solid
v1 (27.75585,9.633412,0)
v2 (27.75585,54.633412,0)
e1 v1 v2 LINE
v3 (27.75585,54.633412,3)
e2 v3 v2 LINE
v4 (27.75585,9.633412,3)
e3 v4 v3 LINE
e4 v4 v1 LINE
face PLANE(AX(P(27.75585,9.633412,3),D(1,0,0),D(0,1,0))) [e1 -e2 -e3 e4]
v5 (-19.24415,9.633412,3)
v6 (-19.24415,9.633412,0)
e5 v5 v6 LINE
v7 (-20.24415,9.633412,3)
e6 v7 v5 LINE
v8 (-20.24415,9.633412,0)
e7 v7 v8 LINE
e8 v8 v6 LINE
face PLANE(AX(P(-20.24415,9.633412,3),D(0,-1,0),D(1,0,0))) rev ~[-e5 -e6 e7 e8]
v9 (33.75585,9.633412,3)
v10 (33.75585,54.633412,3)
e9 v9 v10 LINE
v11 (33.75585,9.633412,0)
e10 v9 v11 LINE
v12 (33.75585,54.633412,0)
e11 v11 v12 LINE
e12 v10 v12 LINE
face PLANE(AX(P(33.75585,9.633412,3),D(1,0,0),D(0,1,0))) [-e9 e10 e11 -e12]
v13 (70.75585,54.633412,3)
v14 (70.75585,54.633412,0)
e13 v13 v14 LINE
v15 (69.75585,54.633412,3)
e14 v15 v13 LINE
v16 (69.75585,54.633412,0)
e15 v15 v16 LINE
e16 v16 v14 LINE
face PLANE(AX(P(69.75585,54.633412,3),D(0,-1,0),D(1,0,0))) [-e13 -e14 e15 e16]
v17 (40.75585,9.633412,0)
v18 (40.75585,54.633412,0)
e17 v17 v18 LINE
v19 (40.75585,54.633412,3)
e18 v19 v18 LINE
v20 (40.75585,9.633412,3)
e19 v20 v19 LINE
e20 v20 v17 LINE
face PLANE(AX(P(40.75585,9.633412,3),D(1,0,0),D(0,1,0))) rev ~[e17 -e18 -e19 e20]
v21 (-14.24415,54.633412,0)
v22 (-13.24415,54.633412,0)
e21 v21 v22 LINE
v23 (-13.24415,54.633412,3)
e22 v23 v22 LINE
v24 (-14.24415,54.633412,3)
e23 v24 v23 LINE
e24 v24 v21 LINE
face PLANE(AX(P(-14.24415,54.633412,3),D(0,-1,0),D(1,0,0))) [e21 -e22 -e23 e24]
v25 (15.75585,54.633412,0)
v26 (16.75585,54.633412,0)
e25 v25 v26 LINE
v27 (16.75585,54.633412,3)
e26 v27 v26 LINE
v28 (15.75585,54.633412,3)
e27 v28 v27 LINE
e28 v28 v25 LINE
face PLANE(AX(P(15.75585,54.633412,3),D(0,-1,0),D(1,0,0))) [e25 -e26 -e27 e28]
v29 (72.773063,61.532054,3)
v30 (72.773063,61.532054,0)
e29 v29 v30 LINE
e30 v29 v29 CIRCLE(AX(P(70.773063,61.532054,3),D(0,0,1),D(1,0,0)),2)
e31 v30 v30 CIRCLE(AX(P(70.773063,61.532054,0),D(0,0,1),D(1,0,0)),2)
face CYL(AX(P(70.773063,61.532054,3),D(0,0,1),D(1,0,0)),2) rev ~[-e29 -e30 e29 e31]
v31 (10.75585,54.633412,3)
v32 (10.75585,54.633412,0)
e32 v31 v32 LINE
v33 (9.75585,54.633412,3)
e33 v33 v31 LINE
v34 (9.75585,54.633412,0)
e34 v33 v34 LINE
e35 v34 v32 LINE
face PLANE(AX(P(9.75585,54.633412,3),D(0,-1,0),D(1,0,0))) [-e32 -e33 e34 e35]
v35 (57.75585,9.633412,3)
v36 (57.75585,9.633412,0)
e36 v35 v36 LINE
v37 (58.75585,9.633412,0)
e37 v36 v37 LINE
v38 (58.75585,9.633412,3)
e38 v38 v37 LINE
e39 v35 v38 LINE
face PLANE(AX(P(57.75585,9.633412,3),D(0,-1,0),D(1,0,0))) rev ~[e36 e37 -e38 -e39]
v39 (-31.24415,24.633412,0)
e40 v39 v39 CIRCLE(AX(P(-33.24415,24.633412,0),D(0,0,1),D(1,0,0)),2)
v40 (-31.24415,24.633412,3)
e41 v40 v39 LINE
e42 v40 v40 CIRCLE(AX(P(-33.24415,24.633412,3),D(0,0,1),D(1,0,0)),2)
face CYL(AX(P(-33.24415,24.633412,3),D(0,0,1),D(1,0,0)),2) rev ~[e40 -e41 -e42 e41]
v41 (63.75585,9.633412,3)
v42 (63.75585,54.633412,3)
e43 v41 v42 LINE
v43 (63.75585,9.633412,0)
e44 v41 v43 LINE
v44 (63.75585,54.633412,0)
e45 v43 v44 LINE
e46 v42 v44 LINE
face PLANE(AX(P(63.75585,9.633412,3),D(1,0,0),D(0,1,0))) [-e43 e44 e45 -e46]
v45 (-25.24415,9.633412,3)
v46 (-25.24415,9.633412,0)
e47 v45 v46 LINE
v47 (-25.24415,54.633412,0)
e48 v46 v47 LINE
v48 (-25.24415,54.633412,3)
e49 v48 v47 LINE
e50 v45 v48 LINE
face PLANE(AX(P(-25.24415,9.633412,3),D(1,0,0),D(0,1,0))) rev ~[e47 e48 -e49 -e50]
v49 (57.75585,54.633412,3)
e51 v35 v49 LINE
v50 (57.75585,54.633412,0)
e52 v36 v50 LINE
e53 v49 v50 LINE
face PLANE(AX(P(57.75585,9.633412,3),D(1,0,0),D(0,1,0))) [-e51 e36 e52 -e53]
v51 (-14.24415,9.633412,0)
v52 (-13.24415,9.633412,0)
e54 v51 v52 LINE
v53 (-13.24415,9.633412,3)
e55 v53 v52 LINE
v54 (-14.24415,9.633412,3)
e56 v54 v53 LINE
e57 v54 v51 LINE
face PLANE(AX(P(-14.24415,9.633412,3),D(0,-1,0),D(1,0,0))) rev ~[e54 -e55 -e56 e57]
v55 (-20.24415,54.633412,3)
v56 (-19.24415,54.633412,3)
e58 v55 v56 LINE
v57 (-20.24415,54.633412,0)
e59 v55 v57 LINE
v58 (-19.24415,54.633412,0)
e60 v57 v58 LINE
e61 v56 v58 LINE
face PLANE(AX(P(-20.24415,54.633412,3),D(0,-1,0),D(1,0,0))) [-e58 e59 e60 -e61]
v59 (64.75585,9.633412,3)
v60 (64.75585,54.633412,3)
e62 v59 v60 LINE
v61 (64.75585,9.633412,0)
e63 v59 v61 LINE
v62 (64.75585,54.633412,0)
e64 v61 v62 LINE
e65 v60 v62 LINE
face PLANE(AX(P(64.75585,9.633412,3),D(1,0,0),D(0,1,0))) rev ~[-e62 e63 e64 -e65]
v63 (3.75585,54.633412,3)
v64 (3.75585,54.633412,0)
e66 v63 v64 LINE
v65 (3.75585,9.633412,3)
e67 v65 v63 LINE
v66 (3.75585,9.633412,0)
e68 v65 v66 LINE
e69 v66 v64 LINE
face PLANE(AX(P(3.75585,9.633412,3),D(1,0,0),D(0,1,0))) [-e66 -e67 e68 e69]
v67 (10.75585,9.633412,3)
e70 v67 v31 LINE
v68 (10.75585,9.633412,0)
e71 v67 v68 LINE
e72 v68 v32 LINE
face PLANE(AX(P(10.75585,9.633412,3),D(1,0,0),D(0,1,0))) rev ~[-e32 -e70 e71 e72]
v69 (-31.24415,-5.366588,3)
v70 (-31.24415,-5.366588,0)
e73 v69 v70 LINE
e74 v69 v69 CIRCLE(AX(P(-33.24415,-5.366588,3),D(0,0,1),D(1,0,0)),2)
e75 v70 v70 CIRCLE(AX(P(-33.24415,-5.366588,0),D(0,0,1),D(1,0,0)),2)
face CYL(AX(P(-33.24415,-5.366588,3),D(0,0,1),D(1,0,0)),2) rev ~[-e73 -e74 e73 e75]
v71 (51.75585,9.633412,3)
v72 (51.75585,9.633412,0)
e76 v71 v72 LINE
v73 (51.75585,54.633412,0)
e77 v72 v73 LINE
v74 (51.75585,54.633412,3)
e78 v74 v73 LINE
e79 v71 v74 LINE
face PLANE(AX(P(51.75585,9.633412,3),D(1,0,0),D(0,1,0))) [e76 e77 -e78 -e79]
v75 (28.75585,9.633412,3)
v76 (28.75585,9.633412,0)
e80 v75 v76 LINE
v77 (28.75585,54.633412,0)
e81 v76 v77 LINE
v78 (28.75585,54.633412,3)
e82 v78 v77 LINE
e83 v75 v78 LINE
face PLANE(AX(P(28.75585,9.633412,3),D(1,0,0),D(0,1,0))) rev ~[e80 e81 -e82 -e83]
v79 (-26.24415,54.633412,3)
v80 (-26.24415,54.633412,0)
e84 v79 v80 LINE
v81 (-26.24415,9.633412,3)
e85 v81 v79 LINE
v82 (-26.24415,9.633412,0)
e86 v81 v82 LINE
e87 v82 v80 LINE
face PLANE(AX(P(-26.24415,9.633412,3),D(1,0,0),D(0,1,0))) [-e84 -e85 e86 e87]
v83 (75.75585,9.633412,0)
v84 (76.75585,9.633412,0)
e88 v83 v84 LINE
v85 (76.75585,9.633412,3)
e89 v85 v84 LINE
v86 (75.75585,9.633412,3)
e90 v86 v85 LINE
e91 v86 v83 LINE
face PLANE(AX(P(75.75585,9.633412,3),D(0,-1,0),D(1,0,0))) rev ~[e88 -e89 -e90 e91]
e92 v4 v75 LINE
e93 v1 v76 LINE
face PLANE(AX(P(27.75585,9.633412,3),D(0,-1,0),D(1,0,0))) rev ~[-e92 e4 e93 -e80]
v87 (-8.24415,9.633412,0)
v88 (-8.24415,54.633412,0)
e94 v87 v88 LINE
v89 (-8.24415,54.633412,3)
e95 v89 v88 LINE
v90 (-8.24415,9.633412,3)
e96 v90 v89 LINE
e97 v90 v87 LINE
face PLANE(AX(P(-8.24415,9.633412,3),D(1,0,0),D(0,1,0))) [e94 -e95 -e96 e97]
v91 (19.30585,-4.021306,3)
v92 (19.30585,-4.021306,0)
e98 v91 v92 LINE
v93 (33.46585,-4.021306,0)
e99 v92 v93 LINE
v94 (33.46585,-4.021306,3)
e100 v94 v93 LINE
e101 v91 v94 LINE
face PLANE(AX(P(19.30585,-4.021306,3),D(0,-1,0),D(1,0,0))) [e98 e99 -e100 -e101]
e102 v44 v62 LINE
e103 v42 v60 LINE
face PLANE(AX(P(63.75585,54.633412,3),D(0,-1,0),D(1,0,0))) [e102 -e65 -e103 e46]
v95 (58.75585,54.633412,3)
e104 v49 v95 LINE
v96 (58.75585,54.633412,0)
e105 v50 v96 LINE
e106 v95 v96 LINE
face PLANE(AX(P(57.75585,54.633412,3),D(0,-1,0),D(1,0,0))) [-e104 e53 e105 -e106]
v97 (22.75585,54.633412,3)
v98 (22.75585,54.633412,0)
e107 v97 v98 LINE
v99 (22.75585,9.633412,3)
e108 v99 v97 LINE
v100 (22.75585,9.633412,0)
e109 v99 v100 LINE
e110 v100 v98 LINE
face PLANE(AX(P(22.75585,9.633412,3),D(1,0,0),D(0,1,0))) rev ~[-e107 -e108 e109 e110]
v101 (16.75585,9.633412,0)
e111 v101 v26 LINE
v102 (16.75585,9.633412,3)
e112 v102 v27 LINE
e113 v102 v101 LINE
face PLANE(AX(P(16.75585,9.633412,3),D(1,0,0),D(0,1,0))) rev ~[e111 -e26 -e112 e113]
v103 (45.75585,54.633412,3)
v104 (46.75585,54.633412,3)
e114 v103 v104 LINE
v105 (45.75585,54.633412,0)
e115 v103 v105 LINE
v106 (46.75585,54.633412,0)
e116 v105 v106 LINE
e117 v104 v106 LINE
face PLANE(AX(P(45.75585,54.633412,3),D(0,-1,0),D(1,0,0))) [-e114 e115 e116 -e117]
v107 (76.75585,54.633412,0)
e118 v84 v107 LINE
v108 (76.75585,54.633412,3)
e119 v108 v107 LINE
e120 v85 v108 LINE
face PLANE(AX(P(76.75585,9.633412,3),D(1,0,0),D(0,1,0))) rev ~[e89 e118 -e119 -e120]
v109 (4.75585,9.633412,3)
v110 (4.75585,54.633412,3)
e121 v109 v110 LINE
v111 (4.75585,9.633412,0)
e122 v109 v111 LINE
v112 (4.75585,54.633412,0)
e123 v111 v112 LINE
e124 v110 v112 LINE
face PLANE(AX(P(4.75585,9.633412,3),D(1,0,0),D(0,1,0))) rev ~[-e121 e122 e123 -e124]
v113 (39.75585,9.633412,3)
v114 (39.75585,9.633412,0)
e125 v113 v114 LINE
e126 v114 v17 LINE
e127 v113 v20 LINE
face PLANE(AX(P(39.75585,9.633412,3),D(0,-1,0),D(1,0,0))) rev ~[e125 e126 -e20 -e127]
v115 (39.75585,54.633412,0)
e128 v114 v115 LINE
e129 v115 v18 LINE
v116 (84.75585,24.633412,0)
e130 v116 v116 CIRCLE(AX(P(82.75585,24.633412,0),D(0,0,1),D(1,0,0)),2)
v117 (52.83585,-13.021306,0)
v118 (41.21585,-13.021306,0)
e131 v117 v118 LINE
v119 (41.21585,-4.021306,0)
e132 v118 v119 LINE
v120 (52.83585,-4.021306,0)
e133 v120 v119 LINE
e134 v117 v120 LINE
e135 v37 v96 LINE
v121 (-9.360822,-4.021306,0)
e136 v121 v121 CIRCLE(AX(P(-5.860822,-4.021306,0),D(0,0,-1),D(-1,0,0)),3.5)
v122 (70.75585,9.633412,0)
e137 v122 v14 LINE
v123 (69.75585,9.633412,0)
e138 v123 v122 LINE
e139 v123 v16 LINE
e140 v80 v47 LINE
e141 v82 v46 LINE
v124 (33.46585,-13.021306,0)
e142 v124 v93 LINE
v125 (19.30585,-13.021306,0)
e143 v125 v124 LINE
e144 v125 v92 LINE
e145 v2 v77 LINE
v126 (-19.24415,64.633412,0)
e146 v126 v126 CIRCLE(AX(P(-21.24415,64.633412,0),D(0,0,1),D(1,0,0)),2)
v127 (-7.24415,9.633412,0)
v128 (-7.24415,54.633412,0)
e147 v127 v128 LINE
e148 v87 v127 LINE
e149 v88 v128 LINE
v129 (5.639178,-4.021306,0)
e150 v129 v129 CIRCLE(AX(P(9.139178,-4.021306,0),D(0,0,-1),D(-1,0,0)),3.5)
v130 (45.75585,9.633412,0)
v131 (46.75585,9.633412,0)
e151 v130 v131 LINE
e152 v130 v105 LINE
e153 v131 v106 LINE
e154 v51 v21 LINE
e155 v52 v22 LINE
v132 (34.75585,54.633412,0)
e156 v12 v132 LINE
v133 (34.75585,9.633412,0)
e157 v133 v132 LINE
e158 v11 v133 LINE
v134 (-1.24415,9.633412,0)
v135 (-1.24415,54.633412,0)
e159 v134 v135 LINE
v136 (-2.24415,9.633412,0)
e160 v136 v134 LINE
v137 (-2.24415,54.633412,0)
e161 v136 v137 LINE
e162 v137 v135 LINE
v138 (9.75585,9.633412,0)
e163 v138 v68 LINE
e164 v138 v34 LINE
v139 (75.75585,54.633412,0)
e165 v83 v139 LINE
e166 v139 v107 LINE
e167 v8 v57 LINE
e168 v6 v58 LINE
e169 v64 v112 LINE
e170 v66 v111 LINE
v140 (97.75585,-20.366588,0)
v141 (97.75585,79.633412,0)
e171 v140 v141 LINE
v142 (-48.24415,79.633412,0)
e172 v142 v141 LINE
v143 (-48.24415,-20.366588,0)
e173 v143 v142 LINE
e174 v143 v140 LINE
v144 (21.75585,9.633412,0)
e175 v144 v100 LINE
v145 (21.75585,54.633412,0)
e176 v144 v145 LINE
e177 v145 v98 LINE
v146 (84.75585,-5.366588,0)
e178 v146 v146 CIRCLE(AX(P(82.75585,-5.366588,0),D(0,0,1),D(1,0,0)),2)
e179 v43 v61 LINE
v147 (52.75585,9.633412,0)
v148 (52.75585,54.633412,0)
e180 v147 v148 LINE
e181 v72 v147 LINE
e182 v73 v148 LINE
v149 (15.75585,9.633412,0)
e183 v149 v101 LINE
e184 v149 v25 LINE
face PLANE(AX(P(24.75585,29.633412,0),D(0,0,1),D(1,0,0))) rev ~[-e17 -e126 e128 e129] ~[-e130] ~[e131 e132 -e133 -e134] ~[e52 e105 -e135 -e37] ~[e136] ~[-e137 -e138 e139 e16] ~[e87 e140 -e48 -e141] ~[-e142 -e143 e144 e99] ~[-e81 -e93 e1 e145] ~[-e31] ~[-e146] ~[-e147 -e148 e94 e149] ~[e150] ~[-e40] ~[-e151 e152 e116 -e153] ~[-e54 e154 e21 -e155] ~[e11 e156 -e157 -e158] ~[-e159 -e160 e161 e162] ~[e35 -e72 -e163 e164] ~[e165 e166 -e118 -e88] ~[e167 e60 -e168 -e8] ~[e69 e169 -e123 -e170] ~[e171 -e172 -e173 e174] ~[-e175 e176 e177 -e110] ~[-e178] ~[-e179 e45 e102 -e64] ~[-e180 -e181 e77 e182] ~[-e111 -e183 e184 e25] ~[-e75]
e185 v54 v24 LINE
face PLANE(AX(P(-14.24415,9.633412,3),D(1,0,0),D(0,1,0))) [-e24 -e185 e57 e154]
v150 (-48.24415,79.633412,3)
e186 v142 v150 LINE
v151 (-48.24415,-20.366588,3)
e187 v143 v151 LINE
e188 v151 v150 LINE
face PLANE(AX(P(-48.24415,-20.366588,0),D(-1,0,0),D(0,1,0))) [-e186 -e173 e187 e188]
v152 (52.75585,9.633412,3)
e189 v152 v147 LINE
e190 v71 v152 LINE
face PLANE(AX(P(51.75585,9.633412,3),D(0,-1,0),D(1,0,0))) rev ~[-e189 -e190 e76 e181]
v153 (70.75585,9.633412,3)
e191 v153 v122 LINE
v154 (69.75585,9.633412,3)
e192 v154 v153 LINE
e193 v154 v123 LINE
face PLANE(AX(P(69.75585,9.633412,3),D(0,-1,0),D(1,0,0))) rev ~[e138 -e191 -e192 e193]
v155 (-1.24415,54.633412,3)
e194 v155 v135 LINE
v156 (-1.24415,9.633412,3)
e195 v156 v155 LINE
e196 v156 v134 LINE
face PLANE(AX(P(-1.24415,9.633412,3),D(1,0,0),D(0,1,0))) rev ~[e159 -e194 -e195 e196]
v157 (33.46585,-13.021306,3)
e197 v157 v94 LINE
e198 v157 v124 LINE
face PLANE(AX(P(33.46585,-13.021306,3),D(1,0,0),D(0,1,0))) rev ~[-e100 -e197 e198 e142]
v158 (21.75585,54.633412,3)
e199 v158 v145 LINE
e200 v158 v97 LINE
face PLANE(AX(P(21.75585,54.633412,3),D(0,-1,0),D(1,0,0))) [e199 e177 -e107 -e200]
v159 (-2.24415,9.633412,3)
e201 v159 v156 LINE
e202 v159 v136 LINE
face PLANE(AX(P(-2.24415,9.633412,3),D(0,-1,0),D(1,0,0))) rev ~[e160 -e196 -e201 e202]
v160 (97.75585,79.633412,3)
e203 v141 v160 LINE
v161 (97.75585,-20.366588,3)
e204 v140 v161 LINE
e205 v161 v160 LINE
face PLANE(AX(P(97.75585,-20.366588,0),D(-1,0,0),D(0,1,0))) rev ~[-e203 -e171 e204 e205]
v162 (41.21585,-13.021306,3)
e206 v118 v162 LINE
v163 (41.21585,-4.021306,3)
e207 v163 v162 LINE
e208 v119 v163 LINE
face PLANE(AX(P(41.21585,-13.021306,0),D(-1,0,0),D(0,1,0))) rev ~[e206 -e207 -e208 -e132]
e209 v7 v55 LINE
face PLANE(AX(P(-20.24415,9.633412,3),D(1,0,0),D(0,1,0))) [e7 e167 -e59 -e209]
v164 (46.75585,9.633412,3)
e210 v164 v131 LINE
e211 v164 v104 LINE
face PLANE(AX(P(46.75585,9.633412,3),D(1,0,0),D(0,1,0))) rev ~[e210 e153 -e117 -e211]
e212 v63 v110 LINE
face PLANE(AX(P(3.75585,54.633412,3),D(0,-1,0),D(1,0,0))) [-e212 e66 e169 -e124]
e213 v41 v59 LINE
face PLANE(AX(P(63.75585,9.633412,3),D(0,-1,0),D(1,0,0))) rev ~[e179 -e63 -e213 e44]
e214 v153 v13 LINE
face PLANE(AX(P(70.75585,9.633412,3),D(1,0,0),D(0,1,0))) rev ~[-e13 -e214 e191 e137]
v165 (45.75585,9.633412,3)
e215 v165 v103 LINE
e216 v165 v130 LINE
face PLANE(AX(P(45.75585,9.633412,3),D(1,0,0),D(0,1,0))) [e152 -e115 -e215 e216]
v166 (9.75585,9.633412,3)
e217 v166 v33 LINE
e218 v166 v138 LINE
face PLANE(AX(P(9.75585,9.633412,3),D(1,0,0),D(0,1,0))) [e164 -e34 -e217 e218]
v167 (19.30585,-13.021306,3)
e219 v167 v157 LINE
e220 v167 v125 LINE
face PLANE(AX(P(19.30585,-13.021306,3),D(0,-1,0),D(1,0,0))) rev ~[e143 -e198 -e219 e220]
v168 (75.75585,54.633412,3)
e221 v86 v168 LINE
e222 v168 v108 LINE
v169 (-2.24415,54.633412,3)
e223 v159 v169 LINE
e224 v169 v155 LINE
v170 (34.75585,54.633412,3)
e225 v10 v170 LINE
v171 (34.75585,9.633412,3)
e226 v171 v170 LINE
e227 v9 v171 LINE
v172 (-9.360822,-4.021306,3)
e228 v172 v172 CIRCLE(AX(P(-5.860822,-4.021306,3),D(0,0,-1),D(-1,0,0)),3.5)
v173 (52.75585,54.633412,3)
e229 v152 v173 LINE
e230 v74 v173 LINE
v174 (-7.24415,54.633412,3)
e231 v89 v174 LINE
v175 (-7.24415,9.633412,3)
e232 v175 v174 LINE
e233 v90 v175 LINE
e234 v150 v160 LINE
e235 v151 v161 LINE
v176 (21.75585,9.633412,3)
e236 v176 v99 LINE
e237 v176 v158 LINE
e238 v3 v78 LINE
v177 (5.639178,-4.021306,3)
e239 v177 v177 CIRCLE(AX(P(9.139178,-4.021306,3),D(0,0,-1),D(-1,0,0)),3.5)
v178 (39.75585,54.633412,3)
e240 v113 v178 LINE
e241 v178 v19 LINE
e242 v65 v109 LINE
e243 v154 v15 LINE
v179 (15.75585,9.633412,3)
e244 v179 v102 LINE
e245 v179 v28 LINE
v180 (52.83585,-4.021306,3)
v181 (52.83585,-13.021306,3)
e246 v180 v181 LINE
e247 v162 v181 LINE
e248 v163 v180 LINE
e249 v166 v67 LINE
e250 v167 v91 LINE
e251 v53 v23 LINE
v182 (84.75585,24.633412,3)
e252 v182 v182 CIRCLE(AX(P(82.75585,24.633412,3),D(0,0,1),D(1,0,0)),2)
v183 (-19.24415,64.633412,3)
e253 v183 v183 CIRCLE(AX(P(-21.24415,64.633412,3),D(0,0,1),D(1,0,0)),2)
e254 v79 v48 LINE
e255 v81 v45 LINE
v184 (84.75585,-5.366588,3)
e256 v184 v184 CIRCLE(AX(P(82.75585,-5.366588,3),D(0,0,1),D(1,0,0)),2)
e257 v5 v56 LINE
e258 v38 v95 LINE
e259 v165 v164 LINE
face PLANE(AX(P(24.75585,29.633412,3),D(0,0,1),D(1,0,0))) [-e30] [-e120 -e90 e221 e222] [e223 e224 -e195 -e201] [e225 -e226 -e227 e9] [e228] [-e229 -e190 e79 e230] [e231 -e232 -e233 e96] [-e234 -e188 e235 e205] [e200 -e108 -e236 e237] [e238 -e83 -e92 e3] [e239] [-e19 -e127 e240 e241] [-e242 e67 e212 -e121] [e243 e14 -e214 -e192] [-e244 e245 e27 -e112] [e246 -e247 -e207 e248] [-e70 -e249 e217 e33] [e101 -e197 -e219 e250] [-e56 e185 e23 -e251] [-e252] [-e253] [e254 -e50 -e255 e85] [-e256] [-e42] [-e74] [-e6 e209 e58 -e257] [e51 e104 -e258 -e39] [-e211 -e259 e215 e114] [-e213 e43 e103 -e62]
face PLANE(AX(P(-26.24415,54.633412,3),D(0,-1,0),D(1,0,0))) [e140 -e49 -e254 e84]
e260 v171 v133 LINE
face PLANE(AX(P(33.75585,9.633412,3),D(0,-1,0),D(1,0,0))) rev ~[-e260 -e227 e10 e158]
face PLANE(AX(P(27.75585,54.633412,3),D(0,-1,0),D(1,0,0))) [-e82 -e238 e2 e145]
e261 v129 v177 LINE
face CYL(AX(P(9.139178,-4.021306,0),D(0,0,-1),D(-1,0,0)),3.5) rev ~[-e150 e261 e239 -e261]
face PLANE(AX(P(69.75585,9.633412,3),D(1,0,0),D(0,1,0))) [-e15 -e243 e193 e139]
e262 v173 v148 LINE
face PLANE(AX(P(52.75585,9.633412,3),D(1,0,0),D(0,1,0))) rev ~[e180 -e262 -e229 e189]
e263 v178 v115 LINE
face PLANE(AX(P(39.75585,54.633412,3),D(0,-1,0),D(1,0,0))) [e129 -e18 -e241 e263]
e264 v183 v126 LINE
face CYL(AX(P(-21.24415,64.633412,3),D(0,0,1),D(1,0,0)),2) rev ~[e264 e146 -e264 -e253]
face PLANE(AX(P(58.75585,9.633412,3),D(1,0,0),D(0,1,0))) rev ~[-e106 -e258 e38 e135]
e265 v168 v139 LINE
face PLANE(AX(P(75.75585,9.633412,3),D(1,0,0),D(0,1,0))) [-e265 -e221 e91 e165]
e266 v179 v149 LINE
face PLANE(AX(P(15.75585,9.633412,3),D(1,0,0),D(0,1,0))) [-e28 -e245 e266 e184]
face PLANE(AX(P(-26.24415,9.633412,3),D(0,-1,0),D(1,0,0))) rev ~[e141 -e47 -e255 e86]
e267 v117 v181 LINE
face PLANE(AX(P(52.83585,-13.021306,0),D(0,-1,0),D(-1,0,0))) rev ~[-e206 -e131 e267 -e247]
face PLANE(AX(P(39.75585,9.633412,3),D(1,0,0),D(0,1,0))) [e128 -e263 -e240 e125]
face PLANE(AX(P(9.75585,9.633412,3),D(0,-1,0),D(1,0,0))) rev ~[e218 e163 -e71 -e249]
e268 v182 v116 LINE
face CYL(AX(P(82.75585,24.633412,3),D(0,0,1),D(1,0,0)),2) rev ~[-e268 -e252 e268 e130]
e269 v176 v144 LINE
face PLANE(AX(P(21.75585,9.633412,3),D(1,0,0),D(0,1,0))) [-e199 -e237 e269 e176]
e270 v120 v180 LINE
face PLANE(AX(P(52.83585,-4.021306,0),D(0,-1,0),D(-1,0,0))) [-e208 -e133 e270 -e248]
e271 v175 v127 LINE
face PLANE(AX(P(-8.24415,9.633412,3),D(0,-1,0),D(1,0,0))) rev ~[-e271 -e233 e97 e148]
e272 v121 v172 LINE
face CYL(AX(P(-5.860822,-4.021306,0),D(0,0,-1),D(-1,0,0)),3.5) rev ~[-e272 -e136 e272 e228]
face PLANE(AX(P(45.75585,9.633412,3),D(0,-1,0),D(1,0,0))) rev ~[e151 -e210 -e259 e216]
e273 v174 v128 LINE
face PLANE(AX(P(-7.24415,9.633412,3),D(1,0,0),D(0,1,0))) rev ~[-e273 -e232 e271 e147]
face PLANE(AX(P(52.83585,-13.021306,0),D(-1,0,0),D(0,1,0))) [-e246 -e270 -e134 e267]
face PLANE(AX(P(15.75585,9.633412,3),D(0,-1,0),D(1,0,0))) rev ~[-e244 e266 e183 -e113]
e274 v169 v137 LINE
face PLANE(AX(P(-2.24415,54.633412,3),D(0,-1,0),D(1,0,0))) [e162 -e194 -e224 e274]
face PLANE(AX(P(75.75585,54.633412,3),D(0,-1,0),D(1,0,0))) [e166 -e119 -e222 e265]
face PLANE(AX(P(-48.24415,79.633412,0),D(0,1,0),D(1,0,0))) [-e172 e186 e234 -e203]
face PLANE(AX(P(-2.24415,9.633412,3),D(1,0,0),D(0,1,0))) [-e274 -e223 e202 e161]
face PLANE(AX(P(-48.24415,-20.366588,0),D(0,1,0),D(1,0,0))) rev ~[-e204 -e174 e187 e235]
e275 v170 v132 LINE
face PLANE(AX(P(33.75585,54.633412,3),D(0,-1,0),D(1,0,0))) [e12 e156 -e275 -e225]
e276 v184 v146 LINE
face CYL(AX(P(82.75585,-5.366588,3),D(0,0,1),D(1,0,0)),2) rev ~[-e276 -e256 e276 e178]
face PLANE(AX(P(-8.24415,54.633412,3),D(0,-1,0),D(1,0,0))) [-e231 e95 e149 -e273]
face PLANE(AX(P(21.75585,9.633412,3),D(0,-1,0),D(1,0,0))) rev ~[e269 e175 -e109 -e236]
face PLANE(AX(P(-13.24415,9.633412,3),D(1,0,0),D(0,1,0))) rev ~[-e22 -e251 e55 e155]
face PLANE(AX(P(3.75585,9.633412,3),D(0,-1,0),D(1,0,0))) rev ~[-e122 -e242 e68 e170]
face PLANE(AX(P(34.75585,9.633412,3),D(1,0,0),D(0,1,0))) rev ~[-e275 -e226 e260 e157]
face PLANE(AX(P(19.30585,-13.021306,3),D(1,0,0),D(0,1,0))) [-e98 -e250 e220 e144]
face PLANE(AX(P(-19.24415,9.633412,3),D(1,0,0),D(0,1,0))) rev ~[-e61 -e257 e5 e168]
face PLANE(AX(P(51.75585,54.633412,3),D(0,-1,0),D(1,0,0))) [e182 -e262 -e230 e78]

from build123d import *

# Parameters (mm, degrees)
SKETCH1_W           = 146
SKETCH1_H           = 100
BOSS_EXTRUDE1_DEPTH = 3
SKETCH2_W           = 1
SKETCH2_H           = 45
CUT_EXTRUDE1_DEPTH  = 4
SKETCH3_R           = 2
CUT_EXTRUDE2_DEPTH  = 4
SKETCH4_W           = 11.62
SKETCH4_H           = 9
CUT_EXTRUDE3_DEPTH  = 4
SKETCH5_W           = 14.16
SKETCH5_H           = 9
CUT_EXTRUDE4_DEPTH  = 4
SKETCH6_R           = 3.5
CUT_EXTRUDE5_DEPTH  = 4
SKETCH8_R           = 2
CUT_EXTRUDE6_DEPTH  = 4
SKETCH9_R           = 2
CUT_EXTRUDE7_DEPTH  = 4


with BuildPart() as part:
    # Sketch1 → Boss-Extrude1 (new body)
    with BuildSketch(Plane.XY):
        with Locations((24.755849622, 29.633412311)):
            Rectangle(SKETCH1_W, SKETCH1_H)
    extrude(amount=BOSS_EXTRUDE1_DEPTH)

    # Sketch2 → Cut-Extrude1 (cut, through all)
    with BuildSketch(Plane.XY.offset(3)):
        with Locations((-19.744150378, 32.133412311)):
            Rectangle(SKETCH2_W, SKETCH2_H)
        with Locations((-25.744150378, 32.133412311)):
            Rectangle(SKETCH2_W, SKETCH2_H)
        with Locations((-13.744150378, 32.133412311)):
            Rectangle(SKETCH2_W, SKETCH2_H)
        with Locations((-7.744150378, 32.133412311)):
            Rectangle(SKETCH2_W, SKETCH2_H)
        with Locations((-1.744150378, 32.133412311)):
            Rectangle(SKETCH2_W, SKETCH2_H)
        with Locations((4.255849622, 32.133412311)):
            Rectangle(SKETCH2_W, SKETCH2_H)
        with Locations((10.255849622, 32.133412311)):
            Rectangle(SKETCH2_W, SKETCH2_H)
        with Locations((16.255849622, 32.133412311)):
            Rectangle(SKETCH2_W, SKETCH2_H)
        with Locations((22.255849622, 32.133412311)):
            Rectangle(SKETCH2_W, SKETCH2_H)
        with Locations((34.255849622, 32.133412311)):
            Rectangle(SKETCH2_W, SKETCH2_H)
        with Locations((28.255849622, 32.133412311)):
            Rectangle(SKETCH2_W, SKETCH2_H)
        with Locations((40.255849622, 32.133412311)):
            Rectangle(SKETCH2_W, SKETCH2_H)
        with Locations((46.255849622, 32.133412311)):
            Rectangle(SKETCH2_W, SKETCH2_H)
        with Locations((52.255849622, 32.133412311)):
            Rectangle(SKETCH2_W, SKETCH2_H)
        with Locations((58.255849622, 32.133412311)):
            Rectangle(SKETCH2_W, SKETCH2_H)
        with Locations((64.255849622, 32.133412311)):
            Rectangle(SKETCH2_W, SKETCH2_H)
        with Locations((70.255849622, 32.133412311)):
            Rectangle(SKETCH2_W, SKETCH2_H)
        with Locations((76.255849622, 32.133412311)):
            Rectangle(SKETCH2_W, SKETCH2_H)
    extrude(amount=-CUT_EXTRUDE1_DEPTH, mode=Mode.SUBTRACT)

    # Sketch3 → Cut-Extrude2 (cut, through all)
    with BuildSketch(Plane.XY.offset(3)):
        with Locations((-33.244150378, -5.366587689)):
            Circle(SKETCH3_R)
        with Locations((82.755849622, -5.366587689)):
            Circle(SKETCH3_R)
    extrude(amount=-CUT_EXTRUDE2_DEPTH, mode=Mode.SUBTRACT)

    # Sketch4 → Cut-Extrude3 (cut, through all)
    with BuildSketch(Plane(origin=(0, 0, 0), x_dir=(-1, 0, 0), z_dir=(0, 0, -1))):
        with Locations((-47.025849622, -8.521305626)):
            Rectangle(SKETCH4_W, SKETCH4_H)
    extrude(amount=-CUT_EXTRUDE3_DEPTH, mode=Mode.SUBTRACT)

    # Sketch5 → Cut-Extrude4 (cut, through all)
    with BuildSketch(Plane.XY.offset(3)):
        with Locations((26.385849622, -8.521305626)):
            Rectangle(SKETCH5_W, SKETCH5_H)
    extrude(amount=-CUT_EXTRUDE4_DEPTH, mode=Mode.SUBTRACT)

    # Sketch6 → Cut-Extrude5 (cut, through all)
    with BuildSketch(Plane(origin=(0, 0, 0), x_dir=(-1, 0, 0), z_dir=(0, 0, -1))):
        with Locations((-9.139177798, -4.021305626)):
            Circle(SKETCH6_R)
        with Locations((5.860822202, -4.021305626)):
            Circle(SKETCH6_R)
    extrude(amount=-CUT_EXTRUDE5_DEPTH, mode=Mode.SUBTRACT)

    # Sketch8 → Cut-Extrude6 (cut, through all)
    with BuildSketch(Plane.XY.offset(3)):
        with Locations((82.755849622, 24.633412311)):
            Circle(SKETCH8_R)
        with Locations((-33.244150378, 24.633412311)):
            Circle(SKETCH8_R)
    extrude(amount=-CUT_EXTRUDE6_DEPTH, mode=Mode.SUBTRACT)

    # Sketch9 → Cut-Extrude7 (cut, through all)
    with BuildSketch(Plane.XY.offset(3)):
        with Locations((-21.244150378, 64.633412311)):
            Circle(SKETCH9_R)
        with Locations((70.77306316, 61.532054099)):
            Circle(SKETCH9_R)
    extrude(amount=-CUT_EXTRUDE7_DEPTH, mode=Mode.SUBTRACT)


solid = part.part
